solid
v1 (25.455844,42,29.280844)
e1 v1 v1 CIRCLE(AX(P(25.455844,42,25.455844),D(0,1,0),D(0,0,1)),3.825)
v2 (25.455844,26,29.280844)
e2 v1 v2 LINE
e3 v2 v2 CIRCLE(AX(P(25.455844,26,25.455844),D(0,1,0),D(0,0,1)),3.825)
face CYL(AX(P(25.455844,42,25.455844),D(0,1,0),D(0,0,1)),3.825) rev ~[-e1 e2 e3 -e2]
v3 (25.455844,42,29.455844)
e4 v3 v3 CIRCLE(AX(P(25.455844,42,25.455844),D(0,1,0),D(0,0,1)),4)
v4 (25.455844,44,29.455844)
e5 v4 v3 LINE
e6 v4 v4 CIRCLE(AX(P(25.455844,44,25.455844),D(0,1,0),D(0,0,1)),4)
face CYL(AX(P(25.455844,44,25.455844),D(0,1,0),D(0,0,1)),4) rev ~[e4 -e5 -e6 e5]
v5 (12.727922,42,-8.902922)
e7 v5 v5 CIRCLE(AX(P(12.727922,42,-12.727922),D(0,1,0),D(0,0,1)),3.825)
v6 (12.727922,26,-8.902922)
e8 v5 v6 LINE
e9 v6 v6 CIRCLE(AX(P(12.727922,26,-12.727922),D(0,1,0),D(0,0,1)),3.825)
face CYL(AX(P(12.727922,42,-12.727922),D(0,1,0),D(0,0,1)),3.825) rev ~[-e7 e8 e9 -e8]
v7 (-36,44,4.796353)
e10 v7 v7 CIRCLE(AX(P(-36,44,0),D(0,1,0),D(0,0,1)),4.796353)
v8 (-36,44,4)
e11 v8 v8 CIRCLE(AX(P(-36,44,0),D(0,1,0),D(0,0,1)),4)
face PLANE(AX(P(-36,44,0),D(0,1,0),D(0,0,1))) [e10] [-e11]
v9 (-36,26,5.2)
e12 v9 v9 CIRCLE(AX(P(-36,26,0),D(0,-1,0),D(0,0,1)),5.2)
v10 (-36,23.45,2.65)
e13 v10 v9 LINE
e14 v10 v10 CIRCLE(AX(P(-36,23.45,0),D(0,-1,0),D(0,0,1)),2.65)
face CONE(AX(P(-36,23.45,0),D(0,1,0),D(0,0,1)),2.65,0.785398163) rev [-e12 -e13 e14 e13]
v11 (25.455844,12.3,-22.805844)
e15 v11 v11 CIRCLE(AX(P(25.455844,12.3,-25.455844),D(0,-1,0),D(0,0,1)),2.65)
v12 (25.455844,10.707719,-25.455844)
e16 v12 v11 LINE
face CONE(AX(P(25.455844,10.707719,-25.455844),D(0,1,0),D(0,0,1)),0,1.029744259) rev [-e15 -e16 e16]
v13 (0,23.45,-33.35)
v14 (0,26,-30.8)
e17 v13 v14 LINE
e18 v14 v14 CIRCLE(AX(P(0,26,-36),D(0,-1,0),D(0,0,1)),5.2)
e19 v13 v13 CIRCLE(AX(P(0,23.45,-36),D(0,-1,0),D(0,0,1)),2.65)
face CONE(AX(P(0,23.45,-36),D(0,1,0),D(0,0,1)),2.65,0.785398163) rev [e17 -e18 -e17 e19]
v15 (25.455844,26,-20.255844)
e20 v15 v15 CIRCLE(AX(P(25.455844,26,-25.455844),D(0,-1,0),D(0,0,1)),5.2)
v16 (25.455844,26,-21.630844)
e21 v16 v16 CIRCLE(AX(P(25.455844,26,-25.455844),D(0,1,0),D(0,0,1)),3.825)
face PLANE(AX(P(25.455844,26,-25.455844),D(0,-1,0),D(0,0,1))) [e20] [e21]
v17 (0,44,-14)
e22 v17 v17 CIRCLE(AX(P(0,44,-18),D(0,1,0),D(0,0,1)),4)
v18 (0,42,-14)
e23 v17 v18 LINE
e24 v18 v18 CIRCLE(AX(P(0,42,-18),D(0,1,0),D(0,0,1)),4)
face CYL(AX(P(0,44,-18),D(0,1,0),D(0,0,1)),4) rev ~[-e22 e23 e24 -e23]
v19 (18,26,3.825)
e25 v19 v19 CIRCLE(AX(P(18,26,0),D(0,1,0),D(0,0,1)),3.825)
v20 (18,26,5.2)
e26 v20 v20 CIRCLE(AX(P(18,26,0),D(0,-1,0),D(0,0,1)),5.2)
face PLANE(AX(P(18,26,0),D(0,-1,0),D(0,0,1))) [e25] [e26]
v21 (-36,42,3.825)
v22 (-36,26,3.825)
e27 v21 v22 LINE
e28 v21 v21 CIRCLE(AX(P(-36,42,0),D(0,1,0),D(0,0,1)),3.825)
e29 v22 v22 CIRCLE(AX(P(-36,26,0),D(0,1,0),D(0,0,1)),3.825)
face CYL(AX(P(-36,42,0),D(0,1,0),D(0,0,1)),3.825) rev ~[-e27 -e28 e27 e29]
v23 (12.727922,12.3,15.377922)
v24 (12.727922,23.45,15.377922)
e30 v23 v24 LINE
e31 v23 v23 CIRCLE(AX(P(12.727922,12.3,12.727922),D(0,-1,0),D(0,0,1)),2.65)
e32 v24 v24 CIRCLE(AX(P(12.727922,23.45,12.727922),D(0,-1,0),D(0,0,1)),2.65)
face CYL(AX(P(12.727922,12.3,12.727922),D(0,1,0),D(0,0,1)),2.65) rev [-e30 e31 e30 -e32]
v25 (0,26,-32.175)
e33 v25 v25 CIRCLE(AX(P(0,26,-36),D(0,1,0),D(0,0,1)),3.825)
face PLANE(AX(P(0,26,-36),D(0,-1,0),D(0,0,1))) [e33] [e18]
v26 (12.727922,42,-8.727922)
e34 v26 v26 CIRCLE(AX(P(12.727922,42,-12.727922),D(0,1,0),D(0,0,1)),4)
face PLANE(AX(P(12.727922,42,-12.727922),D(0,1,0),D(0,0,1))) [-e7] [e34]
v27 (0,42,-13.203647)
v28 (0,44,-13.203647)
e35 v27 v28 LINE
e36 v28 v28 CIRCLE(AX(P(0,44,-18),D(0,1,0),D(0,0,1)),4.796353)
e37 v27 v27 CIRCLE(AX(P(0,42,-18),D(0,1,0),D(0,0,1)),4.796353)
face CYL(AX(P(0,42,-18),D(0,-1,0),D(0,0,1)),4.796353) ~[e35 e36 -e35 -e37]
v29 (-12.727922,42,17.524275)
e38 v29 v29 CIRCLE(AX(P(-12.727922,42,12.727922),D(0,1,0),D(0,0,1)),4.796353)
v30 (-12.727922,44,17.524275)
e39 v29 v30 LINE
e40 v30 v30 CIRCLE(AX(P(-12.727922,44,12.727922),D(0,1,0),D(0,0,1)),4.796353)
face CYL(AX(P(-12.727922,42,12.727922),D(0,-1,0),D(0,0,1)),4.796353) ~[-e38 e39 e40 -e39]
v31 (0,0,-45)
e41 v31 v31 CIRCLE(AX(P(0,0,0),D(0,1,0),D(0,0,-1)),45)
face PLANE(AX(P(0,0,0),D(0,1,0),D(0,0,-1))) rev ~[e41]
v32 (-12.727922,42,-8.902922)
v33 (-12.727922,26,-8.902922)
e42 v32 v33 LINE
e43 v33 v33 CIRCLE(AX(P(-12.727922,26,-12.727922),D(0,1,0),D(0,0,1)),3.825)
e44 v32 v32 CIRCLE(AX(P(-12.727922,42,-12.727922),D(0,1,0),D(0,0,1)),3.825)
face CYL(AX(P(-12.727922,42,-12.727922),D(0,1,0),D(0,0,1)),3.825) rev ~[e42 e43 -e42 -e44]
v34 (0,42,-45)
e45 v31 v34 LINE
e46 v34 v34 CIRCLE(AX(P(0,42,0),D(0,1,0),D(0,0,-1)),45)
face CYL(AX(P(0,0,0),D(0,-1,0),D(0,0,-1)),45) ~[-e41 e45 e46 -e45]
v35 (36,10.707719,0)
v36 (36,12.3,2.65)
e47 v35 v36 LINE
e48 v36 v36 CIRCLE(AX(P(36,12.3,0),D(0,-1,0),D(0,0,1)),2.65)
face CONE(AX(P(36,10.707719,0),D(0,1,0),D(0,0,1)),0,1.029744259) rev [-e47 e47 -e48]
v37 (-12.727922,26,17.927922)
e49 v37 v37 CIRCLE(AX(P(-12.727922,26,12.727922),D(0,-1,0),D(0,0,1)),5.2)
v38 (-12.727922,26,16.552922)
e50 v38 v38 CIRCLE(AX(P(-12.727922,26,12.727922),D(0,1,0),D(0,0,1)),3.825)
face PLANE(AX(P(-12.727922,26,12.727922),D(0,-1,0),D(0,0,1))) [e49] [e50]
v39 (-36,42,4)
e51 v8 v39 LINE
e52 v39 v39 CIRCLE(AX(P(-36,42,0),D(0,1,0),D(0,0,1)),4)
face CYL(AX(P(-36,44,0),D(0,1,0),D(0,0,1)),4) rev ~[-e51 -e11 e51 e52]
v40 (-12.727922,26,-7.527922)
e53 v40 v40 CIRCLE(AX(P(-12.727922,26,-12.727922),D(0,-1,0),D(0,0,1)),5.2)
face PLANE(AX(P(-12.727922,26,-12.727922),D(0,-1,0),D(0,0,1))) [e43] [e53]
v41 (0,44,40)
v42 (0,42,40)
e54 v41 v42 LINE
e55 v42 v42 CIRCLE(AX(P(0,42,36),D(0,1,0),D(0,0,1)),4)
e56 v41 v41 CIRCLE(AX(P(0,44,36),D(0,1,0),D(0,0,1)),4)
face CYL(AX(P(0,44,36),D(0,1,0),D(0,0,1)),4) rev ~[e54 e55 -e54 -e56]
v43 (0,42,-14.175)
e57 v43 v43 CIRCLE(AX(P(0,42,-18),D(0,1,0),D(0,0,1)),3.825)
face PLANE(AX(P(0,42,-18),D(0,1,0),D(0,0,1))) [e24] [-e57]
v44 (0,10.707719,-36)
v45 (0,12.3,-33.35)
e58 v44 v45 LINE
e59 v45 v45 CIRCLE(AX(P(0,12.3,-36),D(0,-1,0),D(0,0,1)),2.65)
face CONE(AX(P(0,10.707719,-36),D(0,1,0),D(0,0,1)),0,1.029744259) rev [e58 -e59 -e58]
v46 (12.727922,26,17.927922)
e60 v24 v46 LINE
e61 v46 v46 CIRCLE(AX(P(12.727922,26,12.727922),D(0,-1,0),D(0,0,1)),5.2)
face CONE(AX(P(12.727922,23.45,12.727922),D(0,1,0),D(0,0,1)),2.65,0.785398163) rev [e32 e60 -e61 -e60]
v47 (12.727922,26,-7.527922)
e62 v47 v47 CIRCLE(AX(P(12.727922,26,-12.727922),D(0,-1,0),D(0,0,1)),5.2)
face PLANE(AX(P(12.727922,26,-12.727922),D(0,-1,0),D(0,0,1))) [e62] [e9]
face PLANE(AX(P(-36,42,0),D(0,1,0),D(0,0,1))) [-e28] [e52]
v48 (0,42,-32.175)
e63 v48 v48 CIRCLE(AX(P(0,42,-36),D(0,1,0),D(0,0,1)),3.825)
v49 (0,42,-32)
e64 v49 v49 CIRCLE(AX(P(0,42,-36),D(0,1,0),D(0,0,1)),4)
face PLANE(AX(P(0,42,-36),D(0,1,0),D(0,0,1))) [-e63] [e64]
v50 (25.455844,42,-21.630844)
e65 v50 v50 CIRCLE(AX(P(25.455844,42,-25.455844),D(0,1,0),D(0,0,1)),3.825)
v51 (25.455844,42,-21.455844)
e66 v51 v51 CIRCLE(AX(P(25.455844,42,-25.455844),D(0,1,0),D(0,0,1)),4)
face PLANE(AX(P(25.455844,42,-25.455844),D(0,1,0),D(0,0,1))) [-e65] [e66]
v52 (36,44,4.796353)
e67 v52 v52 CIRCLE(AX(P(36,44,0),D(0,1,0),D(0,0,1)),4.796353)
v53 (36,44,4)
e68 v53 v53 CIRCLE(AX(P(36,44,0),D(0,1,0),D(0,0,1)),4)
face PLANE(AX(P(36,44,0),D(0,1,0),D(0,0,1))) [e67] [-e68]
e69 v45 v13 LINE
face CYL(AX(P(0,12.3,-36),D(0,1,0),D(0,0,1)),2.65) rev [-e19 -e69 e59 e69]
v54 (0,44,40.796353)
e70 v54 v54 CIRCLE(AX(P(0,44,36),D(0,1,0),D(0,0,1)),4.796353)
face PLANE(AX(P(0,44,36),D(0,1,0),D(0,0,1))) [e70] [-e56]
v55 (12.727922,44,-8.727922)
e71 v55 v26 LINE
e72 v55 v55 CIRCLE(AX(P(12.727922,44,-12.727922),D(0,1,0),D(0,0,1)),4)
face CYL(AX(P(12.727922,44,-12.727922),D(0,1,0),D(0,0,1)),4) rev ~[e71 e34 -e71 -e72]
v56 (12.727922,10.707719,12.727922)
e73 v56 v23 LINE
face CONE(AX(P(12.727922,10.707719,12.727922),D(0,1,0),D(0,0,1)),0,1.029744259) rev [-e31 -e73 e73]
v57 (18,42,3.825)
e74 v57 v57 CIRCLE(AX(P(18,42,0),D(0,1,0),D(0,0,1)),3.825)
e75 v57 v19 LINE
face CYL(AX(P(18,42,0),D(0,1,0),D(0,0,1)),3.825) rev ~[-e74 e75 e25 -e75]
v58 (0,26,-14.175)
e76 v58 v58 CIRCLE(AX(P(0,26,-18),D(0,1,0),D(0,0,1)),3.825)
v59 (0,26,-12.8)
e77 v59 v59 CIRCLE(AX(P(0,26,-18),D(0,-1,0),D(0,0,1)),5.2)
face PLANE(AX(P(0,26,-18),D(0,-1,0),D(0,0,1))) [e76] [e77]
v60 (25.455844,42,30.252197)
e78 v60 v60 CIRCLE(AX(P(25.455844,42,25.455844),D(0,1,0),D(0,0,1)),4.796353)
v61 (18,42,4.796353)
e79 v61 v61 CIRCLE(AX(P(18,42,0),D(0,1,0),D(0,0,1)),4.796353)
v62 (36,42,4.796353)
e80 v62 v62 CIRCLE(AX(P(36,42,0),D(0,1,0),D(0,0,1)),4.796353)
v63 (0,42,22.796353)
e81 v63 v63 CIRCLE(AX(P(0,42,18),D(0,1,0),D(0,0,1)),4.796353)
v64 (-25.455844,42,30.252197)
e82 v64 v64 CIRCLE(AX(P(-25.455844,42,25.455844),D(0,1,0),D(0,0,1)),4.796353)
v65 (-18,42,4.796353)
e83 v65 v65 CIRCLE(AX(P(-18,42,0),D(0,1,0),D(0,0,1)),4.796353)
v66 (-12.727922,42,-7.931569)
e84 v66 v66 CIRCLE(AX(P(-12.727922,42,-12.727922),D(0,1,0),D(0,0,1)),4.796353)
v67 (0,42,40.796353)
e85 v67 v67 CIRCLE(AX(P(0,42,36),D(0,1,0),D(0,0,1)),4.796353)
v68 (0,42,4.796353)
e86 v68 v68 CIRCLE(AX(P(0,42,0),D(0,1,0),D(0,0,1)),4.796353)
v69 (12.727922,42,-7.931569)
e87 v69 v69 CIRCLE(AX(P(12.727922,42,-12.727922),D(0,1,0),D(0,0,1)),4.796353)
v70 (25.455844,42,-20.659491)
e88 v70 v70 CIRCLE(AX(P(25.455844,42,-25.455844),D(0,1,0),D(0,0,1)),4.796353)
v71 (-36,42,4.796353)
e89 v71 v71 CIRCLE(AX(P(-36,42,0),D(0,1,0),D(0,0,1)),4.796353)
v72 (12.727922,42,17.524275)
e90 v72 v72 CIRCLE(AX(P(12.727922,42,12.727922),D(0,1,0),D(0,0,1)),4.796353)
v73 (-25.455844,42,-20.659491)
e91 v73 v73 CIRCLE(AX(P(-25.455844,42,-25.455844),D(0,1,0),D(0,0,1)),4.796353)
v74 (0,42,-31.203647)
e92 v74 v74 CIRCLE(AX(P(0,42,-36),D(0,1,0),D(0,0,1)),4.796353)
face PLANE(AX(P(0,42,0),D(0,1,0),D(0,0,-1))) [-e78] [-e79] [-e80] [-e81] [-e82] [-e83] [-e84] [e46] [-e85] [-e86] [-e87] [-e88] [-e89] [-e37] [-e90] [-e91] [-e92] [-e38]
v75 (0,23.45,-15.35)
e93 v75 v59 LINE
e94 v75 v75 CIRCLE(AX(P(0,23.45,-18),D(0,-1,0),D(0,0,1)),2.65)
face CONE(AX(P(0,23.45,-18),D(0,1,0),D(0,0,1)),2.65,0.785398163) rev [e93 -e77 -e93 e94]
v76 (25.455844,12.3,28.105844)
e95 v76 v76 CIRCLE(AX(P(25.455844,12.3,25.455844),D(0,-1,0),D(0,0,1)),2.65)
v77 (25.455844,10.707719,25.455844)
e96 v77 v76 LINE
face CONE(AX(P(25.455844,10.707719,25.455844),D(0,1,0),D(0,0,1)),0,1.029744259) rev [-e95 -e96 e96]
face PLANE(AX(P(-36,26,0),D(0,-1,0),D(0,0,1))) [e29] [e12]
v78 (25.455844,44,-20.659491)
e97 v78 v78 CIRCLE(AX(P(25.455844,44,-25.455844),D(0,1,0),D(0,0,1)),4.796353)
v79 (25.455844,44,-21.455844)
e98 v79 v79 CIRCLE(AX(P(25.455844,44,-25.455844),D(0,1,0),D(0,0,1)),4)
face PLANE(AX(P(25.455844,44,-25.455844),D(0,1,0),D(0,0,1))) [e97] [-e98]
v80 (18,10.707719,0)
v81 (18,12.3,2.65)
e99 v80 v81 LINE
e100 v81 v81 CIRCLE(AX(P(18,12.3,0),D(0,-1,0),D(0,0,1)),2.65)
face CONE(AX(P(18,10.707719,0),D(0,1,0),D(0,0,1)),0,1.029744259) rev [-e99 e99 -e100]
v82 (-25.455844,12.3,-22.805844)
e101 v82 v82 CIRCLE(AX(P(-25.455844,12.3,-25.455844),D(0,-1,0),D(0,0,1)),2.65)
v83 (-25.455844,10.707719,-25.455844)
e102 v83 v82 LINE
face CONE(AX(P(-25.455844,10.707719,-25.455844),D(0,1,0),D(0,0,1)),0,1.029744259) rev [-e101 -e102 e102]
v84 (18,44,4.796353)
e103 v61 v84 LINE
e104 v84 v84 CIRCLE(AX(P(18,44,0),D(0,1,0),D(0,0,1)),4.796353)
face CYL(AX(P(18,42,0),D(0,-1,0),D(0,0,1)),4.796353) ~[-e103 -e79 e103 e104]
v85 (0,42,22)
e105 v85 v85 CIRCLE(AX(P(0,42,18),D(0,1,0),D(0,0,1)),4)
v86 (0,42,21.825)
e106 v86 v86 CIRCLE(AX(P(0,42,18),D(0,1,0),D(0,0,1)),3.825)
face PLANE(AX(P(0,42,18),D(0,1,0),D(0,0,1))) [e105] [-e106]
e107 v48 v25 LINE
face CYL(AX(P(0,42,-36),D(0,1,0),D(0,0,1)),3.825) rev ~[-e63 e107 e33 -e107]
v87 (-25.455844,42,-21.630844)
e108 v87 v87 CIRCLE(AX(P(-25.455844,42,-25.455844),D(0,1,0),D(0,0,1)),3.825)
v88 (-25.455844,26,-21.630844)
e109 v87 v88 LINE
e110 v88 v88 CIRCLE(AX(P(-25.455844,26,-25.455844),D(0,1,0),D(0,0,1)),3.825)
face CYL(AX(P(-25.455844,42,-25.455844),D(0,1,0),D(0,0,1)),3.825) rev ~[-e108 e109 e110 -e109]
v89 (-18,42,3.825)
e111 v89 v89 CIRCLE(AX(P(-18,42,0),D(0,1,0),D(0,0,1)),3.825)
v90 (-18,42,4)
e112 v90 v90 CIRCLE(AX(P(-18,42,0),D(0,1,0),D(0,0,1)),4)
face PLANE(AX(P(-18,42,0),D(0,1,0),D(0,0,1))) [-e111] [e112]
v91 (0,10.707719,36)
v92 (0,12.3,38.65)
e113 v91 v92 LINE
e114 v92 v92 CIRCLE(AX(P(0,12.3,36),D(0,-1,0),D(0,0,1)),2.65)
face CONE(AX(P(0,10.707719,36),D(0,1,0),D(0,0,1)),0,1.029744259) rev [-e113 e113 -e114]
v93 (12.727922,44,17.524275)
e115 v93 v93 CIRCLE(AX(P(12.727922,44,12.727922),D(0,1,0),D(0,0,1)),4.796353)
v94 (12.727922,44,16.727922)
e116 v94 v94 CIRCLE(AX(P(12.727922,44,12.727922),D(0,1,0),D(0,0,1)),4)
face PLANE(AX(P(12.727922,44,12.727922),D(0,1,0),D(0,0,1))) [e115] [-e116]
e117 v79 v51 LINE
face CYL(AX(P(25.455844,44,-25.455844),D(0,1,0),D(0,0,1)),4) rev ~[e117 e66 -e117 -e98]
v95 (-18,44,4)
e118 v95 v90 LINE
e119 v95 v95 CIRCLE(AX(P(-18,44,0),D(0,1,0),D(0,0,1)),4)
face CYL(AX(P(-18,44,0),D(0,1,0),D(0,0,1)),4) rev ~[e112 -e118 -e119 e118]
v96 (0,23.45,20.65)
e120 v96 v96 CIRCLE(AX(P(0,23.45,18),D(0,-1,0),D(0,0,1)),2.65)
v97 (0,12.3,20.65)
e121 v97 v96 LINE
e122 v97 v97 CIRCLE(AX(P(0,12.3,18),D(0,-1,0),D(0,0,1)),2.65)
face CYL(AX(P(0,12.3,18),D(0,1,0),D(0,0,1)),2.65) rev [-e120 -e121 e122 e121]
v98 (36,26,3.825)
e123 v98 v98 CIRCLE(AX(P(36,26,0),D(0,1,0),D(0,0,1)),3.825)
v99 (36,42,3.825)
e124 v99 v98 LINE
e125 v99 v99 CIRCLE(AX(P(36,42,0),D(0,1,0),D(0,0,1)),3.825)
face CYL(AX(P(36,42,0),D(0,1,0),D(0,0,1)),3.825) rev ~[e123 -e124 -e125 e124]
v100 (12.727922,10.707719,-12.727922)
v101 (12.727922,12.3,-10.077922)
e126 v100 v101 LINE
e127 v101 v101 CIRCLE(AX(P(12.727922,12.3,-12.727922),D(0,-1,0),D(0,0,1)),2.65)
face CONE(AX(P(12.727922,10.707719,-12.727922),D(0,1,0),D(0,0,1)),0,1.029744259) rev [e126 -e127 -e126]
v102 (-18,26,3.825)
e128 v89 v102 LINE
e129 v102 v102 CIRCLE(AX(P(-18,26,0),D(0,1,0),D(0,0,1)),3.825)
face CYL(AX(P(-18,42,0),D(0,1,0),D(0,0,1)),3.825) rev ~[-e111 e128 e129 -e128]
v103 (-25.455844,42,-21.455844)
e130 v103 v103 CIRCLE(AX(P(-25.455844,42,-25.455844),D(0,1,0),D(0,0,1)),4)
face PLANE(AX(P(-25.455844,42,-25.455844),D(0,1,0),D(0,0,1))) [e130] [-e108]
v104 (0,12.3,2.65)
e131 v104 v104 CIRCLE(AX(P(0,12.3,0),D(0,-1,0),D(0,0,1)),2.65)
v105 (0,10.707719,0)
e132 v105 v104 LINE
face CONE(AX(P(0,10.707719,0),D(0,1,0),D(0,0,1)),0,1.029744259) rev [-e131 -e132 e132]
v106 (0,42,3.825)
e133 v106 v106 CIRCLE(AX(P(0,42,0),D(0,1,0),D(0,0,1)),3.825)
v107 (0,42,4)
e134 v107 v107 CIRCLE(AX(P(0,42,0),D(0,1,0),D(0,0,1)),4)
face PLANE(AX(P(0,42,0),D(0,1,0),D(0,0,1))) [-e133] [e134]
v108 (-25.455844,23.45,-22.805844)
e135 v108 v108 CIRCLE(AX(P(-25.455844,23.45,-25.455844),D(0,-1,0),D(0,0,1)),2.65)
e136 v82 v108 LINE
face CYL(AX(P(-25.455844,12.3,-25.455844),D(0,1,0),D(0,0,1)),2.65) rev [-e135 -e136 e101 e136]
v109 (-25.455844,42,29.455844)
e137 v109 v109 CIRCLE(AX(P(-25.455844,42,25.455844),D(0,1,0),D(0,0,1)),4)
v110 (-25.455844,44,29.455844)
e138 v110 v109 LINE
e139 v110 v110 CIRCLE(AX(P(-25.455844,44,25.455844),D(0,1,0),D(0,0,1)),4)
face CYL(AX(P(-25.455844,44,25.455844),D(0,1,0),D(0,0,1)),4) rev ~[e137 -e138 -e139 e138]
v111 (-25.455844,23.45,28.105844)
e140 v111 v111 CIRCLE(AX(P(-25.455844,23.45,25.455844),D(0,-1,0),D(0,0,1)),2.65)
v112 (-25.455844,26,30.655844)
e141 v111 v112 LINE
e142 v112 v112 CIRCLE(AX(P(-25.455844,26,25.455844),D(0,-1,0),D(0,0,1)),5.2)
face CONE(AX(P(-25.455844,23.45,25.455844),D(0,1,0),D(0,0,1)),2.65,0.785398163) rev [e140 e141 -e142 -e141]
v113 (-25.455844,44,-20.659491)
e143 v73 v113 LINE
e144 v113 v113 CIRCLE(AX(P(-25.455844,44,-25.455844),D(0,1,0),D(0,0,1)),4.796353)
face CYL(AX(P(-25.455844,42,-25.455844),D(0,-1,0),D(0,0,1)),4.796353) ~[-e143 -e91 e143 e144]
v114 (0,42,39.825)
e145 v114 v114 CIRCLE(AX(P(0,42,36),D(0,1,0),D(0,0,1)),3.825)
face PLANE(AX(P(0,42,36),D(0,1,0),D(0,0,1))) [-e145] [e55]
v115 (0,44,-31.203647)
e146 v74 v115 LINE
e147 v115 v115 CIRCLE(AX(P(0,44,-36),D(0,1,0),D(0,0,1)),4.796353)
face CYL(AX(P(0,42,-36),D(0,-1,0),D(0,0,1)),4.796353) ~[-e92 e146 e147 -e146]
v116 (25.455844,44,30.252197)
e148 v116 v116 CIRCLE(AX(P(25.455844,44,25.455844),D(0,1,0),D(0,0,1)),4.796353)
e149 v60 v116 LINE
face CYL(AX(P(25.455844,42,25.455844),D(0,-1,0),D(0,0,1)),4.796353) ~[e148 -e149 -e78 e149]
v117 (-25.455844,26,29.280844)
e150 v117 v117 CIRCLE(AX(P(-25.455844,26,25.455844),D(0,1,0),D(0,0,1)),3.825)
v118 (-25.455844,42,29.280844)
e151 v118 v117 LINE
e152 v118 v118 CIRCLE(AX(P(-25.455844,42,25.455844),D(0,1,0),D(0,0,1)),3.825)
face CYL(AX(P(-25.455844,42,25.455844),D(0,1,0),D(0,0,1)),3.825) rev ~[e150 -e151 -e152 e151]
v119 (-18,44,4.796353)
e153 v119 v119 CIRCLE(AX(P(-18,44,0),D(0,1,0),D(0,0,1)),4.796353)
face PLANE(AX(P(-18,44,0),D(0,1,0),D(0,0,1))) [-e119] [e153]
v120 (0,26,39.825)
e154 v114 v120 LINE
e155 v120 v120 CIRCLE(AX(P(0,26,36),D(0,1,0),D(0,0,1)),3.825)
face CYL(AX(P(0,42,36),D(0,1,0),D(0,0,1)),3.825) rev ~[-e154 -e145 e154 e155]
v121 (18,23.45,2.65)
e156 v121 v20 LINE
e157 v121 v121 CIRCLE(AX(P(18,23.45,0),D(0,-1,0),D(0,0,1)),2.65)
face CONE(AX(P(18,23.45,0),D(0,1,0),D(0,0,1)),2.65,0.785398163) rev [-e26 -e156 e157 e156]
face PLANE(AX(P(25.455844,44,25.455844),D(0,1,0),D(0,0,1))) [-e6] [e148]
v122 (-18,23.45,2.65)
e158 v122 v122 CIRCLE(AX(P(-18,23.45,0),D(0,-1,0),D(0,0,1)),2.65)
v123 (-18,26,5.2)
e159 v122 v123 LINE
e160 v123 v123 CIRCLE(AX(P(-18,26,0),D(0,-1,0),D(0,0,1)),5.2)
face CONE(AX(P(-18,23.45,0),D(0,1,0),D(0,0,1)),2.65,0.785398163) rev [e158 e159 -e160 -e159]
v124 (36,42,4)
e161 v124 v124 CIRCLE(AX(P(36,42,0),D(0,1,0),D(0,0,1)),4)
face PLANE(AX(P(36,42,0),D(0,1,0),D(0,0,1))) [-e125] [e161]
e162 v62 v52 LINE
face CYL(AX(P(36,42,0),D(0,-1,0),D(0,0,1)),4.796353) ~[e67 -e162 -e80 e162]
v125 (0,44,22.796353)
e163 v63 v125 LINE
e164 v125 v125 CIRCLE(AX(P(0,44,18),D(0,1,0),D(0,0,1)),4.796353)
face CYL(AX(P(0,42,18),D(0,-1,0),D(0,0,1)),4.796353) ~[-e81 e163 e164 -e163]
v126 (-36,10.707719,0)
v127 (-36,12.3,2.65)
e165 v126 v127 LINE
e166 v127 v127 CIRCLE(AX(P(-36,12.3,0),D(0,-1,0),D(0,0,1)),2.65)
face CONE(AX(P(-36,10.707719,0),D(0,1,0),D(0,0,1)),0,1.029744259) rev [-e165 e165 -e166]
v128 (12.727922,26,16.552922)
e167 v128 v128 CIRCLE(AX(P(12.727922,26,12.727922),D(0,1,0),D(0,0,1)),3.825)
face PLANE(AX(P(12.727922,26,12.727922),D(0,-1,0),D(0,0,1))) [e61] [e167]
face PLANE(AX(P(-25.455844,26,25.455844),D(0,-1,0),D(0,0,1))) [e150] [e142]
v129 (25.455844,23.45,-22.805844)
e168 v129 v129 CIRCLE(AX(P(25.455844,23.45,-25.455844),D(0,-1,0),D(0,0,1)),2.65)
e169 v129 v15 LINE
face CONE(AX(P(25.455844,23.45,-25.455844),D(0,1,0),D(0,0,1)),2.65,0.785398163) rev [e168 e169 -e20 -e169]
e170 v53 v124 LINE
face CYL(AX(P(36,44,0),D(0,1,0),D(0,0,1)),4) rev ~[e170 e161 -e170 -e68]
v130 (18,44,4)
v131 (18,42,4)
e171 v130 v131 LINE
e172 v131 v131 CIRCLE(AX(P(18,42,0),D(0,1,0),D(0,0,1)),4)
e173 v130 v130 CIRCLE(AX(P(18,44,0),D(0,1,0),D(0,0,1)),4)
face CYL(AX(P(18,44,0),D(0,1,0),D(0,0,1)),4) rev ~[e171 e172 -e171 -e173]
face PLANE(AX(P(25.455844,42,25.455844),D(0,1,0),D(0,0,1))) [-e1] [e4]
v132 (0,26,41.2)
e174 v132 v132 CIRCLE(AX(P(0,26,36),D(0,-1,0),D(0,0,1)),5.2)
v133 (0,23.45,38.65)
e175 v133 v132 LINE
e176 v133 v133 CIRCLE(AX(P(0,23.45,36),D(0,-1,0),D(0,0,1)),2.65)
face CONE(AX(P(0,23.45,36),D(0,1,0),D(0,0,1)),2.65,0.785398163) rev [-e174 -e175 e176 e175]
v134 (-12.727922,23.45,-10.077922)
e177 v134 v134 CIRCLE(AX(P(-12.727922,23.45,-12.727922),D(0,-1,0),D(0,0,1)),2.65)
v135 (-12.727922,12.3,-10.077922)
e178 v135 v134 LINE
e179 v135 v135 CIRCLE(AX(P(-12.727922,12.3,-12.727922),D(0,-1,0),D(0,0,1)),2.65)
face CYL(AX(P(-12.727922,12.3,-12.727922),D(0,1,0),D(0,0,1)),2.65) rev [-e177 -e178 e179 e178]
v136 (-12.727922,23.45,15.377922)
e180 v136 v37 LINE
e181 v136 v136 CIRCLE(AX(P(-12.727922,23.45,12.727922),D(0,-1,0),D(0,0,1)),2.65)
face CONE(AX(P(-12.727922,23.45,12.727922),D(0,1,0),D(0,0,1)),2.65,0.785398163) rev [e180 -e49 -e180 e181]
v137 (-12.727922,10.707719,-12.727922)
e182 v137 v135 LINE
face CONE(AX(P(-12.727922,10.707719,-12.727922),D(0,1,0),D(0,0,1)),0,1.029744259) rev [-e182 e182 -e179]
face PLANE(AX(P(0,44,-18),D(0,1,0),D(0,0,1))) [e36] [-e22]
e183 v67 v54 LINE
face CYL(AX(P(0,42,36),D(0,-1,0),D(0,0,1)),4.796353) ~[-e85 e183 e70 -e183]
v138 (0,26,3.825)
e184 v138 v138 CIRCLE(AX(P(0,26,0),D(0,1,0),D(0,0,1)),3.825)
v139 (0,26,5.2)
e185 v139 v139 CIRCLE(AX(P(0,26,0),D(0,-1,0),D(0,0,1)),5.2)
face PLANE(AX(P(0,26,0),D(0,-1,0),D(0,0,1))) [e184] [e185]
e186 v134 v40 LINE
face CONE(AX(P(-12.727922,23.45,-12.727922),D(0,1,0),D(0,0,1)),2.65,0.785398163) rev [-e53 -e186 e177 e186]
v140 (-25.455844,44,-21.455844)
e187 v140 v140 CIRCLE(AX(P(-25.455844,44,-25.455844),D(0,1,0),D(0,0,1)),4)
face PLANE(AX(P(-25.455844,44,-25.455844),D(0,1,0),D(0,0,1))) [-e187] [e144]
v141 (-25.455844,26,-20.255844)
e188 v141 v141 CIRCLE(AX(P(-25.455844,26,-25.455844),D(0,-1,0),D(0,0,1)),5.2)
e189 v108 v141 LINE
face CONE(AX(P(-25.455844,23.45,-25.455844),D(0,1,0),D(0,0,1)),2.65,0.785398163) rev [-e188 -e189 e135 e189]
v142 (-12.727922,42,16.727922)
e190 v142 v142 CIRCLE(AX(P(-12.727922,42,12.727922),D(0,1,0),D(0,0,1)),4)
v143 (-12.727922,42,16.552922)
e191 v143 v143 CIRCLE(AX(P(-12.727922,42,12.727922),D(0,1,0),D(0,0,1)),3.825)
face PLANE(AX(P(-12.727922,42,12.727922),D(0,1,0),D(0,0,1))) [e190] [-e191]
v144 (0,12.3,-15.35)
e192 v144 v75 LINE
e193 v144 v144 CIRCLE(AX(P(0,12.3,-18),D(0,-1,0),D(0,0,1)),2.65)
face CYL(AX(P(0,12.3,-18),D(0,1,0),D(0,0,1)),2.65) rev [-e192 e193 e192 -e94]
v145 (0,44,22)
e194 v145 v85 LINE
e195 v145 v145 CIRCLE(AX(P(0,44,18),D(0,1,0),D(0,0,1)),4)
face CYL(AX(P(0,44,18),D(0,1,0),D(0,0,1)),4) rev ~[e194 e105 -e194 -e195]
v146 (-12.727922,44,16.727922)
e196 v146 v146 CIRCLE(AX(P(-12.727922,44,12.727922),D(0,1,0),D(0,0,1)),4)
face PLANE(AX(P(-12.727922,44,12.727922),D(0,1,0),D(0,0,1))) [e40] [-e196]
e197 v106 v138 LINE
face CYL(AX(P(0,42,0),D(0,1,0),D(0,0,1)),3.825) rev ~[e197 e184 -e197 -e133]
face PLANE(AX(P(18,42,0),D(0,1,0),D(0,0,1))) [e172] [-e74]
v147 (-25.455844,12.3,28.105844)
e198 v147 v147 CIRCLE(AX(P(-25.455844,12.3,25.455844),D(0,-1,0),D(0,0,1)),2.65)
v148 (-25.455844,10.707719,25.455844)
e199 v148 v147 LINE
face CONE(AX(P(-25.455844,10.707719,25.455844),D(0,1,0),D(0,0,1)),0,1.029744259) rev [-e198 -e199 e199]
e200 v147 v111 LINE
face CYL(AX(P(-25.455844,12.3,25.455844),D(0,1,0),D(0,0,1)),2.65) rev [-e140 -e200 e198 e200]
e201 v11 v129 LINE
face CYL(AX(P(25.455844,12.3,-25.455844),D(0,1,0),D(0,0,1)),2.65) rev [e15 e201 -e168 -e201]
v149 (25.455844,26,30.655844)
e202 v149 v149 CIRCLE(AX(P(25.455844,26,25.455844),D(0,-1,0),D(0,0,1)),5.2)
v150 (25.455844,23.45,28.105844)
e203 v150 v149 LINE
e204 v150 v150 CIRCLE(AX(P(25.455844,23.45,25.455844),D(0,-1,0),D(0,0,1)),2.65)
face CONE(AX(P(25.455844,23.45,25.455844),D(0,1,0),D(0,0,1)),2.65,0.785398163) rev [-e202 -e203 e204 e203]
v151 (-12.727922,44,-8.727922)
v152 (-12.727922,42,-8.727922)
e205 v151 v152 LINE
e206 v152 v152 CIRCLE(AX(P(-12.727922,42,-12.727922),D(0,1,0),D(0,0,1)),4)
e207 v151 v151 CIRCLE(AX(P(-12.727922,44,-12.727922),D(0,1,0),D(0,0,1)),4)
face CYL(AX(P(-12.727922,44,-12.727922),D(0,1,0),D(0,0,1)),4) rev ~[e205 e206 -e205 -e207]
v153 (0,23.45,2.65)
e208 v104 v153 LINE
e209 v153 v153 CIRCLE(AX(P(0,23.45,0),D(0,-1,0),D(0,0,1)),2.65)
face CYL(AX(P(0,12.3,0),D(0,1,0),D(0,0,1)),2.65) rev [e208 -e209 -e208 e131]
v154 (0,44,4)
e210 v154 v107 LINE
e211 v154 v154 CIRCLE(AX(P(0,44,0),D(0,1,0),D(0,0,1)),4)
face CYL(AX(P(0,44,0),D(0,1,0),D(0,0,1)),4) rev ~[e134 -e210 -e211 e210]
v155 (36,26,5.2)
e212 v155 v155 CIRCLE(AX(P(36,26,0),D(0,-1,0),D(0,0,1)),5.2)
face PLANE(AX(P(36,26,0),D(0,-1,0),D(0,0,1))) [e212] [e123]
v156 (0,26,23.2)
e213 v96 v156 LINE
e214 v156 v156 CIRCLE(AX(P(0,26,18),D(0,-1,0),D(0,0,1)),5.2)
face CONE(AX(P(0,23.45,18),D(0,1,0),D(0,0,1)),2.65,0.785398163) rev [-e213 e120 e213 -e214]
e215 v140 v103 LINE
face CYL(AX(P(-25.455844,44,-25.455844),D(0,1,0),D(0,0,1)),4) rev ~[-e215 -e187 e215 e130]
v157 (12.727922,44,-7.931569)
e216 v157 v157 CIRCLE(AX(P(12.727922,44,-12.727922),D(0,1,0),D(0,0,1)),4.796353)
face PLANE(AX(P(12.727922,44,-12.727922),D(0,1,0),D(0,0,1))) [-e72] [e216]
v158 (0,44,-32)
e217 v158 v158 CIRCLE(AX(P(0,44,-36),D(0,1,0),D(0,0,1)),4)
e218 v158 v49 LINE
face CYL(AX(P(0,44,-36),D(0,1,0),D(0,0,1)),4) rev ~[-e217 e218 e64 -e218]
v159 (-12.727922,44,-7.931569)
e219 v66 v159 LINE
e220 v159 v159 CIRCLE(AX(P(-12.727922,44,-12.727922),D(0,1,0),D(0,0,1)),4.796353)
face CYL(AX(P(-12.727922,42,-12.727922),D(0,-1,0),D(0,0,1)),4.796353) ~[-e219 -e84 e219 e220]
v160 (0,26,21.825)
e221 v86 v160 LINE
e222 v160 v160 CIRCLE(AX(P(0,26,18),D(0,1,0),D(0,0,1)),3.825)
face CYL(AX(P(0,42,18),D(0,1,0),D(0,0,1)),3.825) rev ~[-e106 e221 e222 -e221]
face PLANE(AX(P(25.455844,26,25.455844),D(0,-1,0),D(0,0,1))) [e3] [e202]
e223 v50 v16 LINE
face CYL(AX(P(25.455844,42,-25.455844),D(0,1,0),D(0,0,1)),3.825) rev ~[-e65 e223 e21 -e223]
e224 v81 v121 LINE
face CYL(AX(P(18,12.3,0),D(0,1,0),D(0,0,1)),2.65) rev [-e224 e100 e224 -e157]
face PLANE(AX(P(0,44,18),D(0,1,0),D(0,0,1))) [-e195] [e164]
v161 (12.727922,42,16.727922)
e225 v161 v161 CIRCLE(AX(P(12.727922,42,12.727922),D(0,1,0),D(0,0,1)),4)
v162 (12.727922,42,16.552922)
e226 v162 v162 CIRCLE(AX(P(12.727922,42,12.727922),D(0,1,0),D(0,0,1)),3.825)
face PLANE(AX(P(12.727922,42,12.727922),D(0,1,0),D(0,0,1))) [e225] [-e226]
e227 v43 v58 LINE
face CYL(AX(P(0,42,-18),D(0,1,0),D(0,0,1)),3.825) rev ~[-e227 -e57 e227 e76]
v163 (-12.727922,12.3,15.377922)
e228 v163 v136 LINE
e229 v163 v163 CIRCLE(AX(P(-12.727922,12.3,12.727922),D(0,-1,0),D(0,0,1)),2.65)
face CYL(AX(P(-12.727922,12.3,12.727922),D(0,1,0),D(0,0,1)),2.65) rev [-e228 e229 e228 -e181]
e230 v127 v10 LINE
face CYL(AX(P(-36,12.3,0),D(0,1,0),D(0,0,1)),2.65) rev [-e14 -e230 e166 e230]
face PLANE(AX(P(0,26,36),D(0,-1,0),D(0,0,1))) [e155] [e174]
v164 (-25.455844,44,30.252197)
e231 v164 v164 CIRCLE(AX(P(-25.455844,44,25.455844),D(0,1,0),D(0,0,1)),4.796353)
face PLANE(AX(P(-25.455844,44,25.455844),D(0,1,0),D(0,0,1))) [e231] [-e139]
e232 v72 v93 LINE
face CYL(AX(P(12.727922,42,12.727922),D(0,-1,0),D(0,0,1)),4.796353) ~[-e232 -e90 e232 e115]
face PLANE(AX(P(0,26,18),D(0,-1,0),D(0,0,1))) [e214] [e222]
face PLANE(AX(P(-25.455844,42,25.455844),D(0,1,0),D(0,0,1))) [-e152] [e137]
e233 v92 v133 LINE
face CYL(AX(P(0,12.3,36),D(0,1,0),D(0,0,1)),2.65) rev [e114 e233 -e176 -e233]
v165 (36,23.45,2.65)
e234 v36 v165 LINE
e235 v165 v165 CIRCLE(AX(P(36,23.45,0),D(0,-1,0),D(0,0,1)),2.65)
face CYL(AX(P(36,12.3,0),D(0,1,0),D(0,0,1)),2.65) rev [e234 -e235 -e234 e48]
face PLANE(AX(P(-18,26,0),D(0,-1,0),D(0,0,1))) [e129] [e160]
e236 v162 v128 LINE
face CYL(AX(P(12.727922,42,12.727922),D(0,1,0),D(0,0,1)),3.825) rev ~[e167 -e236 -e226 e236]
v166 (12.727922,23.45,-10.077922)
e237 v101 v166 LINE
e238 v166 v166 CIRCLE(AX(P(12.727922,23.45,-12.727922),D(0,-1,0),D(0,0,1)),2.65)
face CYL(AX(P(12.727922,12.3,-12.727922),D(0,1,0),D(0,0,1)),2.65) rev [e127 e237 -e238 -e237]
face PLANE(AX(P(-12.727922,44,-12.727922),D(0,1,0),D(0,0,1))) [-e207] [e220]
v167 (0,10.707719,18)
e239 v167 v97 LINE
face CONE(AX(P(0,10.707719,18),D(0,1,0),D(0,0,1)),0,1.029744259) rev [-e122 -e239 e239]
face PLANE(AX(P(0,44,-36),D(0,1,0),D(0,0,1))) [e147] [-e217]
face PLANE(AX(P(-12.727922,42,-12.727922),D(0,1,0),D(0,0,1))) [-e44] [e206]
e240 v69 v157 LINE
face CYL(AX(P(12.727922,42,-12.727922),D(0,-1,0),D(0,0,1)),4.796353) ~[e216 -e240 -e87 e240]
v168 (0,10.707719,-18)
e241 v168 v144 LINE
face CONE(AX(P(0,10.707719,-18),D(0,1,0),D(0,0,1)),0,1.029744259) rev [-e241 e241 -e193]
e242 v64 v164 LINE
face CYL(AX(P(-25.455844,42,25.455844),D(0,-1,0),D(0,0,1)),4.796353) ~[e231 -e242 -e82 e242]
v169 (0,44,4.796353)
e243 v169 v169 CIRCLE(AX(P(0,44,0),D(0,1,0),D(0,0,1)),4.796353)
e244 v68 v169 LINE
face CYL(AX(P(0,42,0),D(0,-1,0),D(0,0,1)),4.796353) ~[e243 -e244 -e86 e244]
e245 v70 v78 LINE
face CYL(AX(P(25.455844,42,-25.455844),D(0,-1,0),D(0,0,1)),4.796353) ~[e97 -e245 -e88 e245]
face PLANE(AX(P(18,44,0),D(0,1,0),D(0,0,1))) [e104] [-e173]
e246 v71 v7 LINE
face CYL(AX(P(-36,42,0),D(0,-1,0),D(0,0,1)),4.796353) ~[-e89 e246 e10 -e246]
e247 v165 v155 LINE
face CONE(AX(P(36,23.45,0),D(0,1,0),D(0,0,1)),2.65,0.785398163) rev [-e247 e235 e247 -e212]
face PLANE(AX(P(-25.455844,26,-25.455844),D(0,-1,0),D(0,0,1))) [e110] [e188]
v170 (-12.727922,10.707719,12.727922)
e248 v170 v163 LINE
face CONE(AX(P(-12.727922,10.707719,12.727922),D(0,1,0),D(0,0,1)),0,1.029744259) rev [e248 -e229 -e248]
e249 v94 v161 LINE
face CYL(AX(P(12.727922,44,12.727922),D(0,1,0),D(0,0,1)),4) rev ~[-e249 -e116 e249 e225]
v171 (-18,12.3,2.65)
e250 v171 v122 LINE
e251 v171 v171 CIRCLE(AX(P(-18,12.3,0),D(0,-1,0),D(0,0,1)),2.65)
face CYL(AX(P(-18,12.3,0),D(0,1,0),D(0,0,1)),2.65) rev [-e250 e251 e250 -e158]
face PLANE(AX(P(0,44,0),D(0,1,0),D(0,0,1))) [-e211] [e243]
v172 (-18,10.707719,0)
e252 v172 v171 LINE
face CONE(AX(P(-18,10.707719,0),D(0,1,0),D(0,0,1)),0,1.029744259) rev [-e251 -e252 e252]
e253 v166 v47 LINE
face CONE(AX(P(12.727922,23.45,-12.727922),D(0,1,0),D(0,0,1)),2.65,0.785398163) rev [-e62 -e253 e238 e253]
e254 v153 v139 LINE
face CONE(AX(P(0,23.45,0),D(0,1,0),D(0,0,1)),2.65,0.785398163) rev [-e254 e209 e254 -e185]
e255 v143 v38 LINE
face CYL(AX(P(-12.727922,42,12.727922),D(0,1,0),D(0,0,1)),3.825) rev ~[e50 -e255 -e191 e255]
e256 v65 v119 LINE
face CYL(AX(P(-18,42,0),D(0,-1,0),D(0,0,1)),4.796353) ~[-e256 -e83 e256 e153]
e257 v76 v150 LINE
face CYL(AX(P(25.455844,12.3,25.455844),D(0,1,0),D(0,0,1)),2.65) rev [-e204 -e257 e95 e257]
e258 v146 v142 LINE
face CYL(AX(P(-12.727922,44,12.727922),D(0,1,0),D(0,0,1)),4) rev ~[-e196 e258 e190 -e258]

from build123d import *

# Parameters (mm, degrees)
SKETCH2_R            = 45
BOSS_EXTRUDE1_DEPTH  = 42
SKETCH6_R            = 3.825
CUT_EXTRUDE1_DEPTH   = 16
SKETCH10_R           = 4.796352712
BOSS_EXTRUDE2_DEPTH  = 2
SKETCH11_R           = 4
CUT_EXTRUDE2_DEPTH   = 2
LPATTERN1_COUNT      = 3
LPATTERN1_PITCH      = 18
LPATTERN1_COUNT_DIR2 = 3
LPATTERN1_PITCH_DIR2 = 18
LPATTERN2_COUNT      = 3
LPATTERN2_PITCH      = 18
LPATTERN2_COL_COUNT  = 3
LPATTERN2_COL_PITCH  = 18
LPATTERN3_COUNT      = 3
LPATTERN3_PITCH      = 18
LPATTERN3_COL_COUNT  = 3
LPATTERN3_COL_PITCH  = 18
LPATTERN4_COUNT      = 3
LPATTERN4_PITCH      = 18
LPATTERN4_COL_COUNT  = 3
LPATTERN4_COL_PITCH  = 18


with BuildPart() as part:
    # Sketch2 → Boss-Extrude1 (new body)
    with BuildSketch(Plane(origin=(0, 0, 0), x_dir=(1, 0, 0), z_dir=(0, 1, 0))):
        with Locations(Location((0, 0, 0), (0, 0, 90))):
            Circle(SKETCH2_R)
    extrude(amount=BOSS_EXTRUDE1_DEPTH)

    # Sketch6 → Cut-Extrude1 (cut)
    with BuildSketch(Plane(origin=(0, 42, 0), x_dir=(1, 0, 0), z_dir=(0, 1, 0))):
        with Locations(Location((0, 0, 0), (0, 0, 270))):
            Circle(SKETCH6_R)
    cut_extrude1 = extrude(amount=-CUT_EXTRUDE1_DEPTH, mode=Mode.SUBTRACT)

    # Sketch9 → CSK for M5 Countersunk Flat Head Screw1 (revolve, cut)
    with BuildSketch(Plane(origin=(0, 26, 0), x_dir=(0, 0, 1), z_dir=(1, 0, 0))):
        Polygon((0, 0), (0, 15.29228064), (2.65, 13.7), (2.65, 2.55), (5.2, 0), align=None)
    csk_for_m5_countersunk_flat_head_screw1 = revolve(axis=Axis((0, 32.35, 0), (0, -1, 0)), mode=Mode.SUBTRACT)

    # Sketch10 → Boss-Extrude2 (add)
    with BuildSketch(Plane(origin=(0, 42, 0), x_dir=(1, 0, 0), z_dir=(0, 1, 0))):
        with Locations(Location((0, 0, 0), (0, 0, 270))):
            Circle(SKETCH10_R)
    boss_extrude2 = extrude(amount=BOSS_EXTRUDE2_DEPTH)

    # Sketch11 → Cut-Extrude2 (cut)
    with BuildSketch(Plane(origin=(0, 44, 0), x_dir=(1, 0, 0), z_dir=(0, 1, 0))):
        with Locations(Location((0, 0, 0), (0, 0, 270))):
            Circle(SKETCH11_R)
    cut_extrude2 = extrude(amount=-CUT_EXTRUDE2_DEPTH, mode=Mode.SUBTRACT)

    # LPattern1: Cut-Extrude1, CSK for M5 Countersunk Flat Head Screw1, Boss-Extrude2, Cut-Extrude2 3 × 3
    with Locations(*[Vector(1, 0, 0) * (i * LPATTERN1_PITCH) + Vector(-1, 0, 0) * (j * LPATTERN1_PITCH_DIR2) for i in range(LPATTERN1_COUNT) for j in range(LPATTERN1_COUNT_DIR2) if (i, j) != (0, 0)]):
        add(cut_extrude1, mode=Mode.SUBTRACT)
        add(csk_for_m5_countersunk_flat_head_screw1, mode=Mode.SUBTRACT)
        add(boss_extrude2)
        add(cut_extrude2, mode=Mode.SUBTRACT)

    # LPattern2: Cut-Extrude1, CSK for M5 Countersunk Flat Head Screw1, Boss-Extrude2, Cut-Extrude2 ×3
    with Locations(*[(0, 0, -i * LPATTERN2_PITCH) for i in range(1, LPATTERN2_COUNT)]):
        add(cut_extrude1, mode=Mode.SUBTRACT)
        add(csk_for_m5_countersunk_flat_head_screw1, mode=Mode.SUBTRACT)
        add(boss_extrude2)
        add(cut_extrude2, mode=Mode.SUBTRACT)

    # LPattern2 col: Cut-Extrude1, CSK for M5 Countersunk Flat Head Screw1, Boss-Extrude2, Cut-Extrude2 ×3
    with Locations(*[(0, 0, i * LPATTERN2_COL_PITCH) for i in range(1, LPATTERN2_COL_COUNT)]):
        add(cut_extrude1, mode=Mode.SUBTRACT)
        add(csk_for_m5_countersunk_flat_head_screw1, mode=Mode.SUBTRACT)
        add(boss_extrude2)
        add(cut_extrude2, mode=Mode.SUBTRACT)

    # LPattern3: Cut-Extrude1, CSK for M5 Countersunk Flat Head Screw1, Boss-Extrude2, Cut-Extrude2 ×3
    with Locations(*[Vector(-0.7071067811865487, 0, 0.7071067811865464) * (i * LPATTERN3_PITCH) for i in range(1, LPATTERN3_COUNT)]):
        add(cut_extrude1, mode=Mode.SUBTRACT)
        add(csk_for_m5_countersunk_flat_head_screw1, mode=Mode.SUBTRACT)
        add(boss_extrude2)
        add(cut_extrude2, mode=Mode.SUBTRACT)

    # LPattern3 col: Cut-Extrude1, CSK for M5 Countersunk Flat Head Screw1, Boss-Extrude2, Cut-Extrude2 ×3
    with Locations(*[Vector(0.7071067811865487, 0, -0.7071067811865464) * (i * LPATTERN3_COL_PITCH) for i in range(1, LPATTERN3_COL_COUNT)]):
        add(cut_extrude1, mode=Mode.SUBTRACT)
        add(csk_for_m5_countersunk_flat_head_screw1, mode=Mode.SUBTRACT)
        add(boss_extrude2)
        add(cut_extrude2, mode=Mode.SUBTRACT)

    # LPattern4: Cut-Extrude1, CSK for M5 Countersunk Flat Head Screw1, Boss-Extrude2, Cut-Extrude2 ×3
    with Locations(*[Vector(0.7071067811865488, 0, 0.7071067811865462) * (i * LPATTERN4_PITCH) for i in range(1, LPATTERN4_COUNT)]):
        add(cut_extrude1, mode=Mode.SUBTRACT)
        add(csk_for_m5_countersunk_flat_head_screw1, mode=Mode.SUBTRACT)
        add(boss_extrude2)
        add(cut_extrude2, mode=Mode.SUBTRACT)

    # LPattern4 col: Cut-Extrude1, CSK for M5 Countersunk Flat Head Screw1, Boss-Extrude2, Cut-Extrude2 ×3
    with Locations(*[Vector(-0.7071067811865488, 0, -0.7071067811865462) * (i * LPATTERN4_COL_PITCH) for i in range(1, LPATTERN4_COL_COUNT)]):
        add(cut_extrude1, mode=Mode.SUBTRACT)
        add(csk_for_m5_countersunk_flat_head_screw1, mode=Mode.SUBTRACT)
        add(boss_extrude2)
        add(cut_extrude2, mode=Mode.SUBTRACT)


solid = part.part
